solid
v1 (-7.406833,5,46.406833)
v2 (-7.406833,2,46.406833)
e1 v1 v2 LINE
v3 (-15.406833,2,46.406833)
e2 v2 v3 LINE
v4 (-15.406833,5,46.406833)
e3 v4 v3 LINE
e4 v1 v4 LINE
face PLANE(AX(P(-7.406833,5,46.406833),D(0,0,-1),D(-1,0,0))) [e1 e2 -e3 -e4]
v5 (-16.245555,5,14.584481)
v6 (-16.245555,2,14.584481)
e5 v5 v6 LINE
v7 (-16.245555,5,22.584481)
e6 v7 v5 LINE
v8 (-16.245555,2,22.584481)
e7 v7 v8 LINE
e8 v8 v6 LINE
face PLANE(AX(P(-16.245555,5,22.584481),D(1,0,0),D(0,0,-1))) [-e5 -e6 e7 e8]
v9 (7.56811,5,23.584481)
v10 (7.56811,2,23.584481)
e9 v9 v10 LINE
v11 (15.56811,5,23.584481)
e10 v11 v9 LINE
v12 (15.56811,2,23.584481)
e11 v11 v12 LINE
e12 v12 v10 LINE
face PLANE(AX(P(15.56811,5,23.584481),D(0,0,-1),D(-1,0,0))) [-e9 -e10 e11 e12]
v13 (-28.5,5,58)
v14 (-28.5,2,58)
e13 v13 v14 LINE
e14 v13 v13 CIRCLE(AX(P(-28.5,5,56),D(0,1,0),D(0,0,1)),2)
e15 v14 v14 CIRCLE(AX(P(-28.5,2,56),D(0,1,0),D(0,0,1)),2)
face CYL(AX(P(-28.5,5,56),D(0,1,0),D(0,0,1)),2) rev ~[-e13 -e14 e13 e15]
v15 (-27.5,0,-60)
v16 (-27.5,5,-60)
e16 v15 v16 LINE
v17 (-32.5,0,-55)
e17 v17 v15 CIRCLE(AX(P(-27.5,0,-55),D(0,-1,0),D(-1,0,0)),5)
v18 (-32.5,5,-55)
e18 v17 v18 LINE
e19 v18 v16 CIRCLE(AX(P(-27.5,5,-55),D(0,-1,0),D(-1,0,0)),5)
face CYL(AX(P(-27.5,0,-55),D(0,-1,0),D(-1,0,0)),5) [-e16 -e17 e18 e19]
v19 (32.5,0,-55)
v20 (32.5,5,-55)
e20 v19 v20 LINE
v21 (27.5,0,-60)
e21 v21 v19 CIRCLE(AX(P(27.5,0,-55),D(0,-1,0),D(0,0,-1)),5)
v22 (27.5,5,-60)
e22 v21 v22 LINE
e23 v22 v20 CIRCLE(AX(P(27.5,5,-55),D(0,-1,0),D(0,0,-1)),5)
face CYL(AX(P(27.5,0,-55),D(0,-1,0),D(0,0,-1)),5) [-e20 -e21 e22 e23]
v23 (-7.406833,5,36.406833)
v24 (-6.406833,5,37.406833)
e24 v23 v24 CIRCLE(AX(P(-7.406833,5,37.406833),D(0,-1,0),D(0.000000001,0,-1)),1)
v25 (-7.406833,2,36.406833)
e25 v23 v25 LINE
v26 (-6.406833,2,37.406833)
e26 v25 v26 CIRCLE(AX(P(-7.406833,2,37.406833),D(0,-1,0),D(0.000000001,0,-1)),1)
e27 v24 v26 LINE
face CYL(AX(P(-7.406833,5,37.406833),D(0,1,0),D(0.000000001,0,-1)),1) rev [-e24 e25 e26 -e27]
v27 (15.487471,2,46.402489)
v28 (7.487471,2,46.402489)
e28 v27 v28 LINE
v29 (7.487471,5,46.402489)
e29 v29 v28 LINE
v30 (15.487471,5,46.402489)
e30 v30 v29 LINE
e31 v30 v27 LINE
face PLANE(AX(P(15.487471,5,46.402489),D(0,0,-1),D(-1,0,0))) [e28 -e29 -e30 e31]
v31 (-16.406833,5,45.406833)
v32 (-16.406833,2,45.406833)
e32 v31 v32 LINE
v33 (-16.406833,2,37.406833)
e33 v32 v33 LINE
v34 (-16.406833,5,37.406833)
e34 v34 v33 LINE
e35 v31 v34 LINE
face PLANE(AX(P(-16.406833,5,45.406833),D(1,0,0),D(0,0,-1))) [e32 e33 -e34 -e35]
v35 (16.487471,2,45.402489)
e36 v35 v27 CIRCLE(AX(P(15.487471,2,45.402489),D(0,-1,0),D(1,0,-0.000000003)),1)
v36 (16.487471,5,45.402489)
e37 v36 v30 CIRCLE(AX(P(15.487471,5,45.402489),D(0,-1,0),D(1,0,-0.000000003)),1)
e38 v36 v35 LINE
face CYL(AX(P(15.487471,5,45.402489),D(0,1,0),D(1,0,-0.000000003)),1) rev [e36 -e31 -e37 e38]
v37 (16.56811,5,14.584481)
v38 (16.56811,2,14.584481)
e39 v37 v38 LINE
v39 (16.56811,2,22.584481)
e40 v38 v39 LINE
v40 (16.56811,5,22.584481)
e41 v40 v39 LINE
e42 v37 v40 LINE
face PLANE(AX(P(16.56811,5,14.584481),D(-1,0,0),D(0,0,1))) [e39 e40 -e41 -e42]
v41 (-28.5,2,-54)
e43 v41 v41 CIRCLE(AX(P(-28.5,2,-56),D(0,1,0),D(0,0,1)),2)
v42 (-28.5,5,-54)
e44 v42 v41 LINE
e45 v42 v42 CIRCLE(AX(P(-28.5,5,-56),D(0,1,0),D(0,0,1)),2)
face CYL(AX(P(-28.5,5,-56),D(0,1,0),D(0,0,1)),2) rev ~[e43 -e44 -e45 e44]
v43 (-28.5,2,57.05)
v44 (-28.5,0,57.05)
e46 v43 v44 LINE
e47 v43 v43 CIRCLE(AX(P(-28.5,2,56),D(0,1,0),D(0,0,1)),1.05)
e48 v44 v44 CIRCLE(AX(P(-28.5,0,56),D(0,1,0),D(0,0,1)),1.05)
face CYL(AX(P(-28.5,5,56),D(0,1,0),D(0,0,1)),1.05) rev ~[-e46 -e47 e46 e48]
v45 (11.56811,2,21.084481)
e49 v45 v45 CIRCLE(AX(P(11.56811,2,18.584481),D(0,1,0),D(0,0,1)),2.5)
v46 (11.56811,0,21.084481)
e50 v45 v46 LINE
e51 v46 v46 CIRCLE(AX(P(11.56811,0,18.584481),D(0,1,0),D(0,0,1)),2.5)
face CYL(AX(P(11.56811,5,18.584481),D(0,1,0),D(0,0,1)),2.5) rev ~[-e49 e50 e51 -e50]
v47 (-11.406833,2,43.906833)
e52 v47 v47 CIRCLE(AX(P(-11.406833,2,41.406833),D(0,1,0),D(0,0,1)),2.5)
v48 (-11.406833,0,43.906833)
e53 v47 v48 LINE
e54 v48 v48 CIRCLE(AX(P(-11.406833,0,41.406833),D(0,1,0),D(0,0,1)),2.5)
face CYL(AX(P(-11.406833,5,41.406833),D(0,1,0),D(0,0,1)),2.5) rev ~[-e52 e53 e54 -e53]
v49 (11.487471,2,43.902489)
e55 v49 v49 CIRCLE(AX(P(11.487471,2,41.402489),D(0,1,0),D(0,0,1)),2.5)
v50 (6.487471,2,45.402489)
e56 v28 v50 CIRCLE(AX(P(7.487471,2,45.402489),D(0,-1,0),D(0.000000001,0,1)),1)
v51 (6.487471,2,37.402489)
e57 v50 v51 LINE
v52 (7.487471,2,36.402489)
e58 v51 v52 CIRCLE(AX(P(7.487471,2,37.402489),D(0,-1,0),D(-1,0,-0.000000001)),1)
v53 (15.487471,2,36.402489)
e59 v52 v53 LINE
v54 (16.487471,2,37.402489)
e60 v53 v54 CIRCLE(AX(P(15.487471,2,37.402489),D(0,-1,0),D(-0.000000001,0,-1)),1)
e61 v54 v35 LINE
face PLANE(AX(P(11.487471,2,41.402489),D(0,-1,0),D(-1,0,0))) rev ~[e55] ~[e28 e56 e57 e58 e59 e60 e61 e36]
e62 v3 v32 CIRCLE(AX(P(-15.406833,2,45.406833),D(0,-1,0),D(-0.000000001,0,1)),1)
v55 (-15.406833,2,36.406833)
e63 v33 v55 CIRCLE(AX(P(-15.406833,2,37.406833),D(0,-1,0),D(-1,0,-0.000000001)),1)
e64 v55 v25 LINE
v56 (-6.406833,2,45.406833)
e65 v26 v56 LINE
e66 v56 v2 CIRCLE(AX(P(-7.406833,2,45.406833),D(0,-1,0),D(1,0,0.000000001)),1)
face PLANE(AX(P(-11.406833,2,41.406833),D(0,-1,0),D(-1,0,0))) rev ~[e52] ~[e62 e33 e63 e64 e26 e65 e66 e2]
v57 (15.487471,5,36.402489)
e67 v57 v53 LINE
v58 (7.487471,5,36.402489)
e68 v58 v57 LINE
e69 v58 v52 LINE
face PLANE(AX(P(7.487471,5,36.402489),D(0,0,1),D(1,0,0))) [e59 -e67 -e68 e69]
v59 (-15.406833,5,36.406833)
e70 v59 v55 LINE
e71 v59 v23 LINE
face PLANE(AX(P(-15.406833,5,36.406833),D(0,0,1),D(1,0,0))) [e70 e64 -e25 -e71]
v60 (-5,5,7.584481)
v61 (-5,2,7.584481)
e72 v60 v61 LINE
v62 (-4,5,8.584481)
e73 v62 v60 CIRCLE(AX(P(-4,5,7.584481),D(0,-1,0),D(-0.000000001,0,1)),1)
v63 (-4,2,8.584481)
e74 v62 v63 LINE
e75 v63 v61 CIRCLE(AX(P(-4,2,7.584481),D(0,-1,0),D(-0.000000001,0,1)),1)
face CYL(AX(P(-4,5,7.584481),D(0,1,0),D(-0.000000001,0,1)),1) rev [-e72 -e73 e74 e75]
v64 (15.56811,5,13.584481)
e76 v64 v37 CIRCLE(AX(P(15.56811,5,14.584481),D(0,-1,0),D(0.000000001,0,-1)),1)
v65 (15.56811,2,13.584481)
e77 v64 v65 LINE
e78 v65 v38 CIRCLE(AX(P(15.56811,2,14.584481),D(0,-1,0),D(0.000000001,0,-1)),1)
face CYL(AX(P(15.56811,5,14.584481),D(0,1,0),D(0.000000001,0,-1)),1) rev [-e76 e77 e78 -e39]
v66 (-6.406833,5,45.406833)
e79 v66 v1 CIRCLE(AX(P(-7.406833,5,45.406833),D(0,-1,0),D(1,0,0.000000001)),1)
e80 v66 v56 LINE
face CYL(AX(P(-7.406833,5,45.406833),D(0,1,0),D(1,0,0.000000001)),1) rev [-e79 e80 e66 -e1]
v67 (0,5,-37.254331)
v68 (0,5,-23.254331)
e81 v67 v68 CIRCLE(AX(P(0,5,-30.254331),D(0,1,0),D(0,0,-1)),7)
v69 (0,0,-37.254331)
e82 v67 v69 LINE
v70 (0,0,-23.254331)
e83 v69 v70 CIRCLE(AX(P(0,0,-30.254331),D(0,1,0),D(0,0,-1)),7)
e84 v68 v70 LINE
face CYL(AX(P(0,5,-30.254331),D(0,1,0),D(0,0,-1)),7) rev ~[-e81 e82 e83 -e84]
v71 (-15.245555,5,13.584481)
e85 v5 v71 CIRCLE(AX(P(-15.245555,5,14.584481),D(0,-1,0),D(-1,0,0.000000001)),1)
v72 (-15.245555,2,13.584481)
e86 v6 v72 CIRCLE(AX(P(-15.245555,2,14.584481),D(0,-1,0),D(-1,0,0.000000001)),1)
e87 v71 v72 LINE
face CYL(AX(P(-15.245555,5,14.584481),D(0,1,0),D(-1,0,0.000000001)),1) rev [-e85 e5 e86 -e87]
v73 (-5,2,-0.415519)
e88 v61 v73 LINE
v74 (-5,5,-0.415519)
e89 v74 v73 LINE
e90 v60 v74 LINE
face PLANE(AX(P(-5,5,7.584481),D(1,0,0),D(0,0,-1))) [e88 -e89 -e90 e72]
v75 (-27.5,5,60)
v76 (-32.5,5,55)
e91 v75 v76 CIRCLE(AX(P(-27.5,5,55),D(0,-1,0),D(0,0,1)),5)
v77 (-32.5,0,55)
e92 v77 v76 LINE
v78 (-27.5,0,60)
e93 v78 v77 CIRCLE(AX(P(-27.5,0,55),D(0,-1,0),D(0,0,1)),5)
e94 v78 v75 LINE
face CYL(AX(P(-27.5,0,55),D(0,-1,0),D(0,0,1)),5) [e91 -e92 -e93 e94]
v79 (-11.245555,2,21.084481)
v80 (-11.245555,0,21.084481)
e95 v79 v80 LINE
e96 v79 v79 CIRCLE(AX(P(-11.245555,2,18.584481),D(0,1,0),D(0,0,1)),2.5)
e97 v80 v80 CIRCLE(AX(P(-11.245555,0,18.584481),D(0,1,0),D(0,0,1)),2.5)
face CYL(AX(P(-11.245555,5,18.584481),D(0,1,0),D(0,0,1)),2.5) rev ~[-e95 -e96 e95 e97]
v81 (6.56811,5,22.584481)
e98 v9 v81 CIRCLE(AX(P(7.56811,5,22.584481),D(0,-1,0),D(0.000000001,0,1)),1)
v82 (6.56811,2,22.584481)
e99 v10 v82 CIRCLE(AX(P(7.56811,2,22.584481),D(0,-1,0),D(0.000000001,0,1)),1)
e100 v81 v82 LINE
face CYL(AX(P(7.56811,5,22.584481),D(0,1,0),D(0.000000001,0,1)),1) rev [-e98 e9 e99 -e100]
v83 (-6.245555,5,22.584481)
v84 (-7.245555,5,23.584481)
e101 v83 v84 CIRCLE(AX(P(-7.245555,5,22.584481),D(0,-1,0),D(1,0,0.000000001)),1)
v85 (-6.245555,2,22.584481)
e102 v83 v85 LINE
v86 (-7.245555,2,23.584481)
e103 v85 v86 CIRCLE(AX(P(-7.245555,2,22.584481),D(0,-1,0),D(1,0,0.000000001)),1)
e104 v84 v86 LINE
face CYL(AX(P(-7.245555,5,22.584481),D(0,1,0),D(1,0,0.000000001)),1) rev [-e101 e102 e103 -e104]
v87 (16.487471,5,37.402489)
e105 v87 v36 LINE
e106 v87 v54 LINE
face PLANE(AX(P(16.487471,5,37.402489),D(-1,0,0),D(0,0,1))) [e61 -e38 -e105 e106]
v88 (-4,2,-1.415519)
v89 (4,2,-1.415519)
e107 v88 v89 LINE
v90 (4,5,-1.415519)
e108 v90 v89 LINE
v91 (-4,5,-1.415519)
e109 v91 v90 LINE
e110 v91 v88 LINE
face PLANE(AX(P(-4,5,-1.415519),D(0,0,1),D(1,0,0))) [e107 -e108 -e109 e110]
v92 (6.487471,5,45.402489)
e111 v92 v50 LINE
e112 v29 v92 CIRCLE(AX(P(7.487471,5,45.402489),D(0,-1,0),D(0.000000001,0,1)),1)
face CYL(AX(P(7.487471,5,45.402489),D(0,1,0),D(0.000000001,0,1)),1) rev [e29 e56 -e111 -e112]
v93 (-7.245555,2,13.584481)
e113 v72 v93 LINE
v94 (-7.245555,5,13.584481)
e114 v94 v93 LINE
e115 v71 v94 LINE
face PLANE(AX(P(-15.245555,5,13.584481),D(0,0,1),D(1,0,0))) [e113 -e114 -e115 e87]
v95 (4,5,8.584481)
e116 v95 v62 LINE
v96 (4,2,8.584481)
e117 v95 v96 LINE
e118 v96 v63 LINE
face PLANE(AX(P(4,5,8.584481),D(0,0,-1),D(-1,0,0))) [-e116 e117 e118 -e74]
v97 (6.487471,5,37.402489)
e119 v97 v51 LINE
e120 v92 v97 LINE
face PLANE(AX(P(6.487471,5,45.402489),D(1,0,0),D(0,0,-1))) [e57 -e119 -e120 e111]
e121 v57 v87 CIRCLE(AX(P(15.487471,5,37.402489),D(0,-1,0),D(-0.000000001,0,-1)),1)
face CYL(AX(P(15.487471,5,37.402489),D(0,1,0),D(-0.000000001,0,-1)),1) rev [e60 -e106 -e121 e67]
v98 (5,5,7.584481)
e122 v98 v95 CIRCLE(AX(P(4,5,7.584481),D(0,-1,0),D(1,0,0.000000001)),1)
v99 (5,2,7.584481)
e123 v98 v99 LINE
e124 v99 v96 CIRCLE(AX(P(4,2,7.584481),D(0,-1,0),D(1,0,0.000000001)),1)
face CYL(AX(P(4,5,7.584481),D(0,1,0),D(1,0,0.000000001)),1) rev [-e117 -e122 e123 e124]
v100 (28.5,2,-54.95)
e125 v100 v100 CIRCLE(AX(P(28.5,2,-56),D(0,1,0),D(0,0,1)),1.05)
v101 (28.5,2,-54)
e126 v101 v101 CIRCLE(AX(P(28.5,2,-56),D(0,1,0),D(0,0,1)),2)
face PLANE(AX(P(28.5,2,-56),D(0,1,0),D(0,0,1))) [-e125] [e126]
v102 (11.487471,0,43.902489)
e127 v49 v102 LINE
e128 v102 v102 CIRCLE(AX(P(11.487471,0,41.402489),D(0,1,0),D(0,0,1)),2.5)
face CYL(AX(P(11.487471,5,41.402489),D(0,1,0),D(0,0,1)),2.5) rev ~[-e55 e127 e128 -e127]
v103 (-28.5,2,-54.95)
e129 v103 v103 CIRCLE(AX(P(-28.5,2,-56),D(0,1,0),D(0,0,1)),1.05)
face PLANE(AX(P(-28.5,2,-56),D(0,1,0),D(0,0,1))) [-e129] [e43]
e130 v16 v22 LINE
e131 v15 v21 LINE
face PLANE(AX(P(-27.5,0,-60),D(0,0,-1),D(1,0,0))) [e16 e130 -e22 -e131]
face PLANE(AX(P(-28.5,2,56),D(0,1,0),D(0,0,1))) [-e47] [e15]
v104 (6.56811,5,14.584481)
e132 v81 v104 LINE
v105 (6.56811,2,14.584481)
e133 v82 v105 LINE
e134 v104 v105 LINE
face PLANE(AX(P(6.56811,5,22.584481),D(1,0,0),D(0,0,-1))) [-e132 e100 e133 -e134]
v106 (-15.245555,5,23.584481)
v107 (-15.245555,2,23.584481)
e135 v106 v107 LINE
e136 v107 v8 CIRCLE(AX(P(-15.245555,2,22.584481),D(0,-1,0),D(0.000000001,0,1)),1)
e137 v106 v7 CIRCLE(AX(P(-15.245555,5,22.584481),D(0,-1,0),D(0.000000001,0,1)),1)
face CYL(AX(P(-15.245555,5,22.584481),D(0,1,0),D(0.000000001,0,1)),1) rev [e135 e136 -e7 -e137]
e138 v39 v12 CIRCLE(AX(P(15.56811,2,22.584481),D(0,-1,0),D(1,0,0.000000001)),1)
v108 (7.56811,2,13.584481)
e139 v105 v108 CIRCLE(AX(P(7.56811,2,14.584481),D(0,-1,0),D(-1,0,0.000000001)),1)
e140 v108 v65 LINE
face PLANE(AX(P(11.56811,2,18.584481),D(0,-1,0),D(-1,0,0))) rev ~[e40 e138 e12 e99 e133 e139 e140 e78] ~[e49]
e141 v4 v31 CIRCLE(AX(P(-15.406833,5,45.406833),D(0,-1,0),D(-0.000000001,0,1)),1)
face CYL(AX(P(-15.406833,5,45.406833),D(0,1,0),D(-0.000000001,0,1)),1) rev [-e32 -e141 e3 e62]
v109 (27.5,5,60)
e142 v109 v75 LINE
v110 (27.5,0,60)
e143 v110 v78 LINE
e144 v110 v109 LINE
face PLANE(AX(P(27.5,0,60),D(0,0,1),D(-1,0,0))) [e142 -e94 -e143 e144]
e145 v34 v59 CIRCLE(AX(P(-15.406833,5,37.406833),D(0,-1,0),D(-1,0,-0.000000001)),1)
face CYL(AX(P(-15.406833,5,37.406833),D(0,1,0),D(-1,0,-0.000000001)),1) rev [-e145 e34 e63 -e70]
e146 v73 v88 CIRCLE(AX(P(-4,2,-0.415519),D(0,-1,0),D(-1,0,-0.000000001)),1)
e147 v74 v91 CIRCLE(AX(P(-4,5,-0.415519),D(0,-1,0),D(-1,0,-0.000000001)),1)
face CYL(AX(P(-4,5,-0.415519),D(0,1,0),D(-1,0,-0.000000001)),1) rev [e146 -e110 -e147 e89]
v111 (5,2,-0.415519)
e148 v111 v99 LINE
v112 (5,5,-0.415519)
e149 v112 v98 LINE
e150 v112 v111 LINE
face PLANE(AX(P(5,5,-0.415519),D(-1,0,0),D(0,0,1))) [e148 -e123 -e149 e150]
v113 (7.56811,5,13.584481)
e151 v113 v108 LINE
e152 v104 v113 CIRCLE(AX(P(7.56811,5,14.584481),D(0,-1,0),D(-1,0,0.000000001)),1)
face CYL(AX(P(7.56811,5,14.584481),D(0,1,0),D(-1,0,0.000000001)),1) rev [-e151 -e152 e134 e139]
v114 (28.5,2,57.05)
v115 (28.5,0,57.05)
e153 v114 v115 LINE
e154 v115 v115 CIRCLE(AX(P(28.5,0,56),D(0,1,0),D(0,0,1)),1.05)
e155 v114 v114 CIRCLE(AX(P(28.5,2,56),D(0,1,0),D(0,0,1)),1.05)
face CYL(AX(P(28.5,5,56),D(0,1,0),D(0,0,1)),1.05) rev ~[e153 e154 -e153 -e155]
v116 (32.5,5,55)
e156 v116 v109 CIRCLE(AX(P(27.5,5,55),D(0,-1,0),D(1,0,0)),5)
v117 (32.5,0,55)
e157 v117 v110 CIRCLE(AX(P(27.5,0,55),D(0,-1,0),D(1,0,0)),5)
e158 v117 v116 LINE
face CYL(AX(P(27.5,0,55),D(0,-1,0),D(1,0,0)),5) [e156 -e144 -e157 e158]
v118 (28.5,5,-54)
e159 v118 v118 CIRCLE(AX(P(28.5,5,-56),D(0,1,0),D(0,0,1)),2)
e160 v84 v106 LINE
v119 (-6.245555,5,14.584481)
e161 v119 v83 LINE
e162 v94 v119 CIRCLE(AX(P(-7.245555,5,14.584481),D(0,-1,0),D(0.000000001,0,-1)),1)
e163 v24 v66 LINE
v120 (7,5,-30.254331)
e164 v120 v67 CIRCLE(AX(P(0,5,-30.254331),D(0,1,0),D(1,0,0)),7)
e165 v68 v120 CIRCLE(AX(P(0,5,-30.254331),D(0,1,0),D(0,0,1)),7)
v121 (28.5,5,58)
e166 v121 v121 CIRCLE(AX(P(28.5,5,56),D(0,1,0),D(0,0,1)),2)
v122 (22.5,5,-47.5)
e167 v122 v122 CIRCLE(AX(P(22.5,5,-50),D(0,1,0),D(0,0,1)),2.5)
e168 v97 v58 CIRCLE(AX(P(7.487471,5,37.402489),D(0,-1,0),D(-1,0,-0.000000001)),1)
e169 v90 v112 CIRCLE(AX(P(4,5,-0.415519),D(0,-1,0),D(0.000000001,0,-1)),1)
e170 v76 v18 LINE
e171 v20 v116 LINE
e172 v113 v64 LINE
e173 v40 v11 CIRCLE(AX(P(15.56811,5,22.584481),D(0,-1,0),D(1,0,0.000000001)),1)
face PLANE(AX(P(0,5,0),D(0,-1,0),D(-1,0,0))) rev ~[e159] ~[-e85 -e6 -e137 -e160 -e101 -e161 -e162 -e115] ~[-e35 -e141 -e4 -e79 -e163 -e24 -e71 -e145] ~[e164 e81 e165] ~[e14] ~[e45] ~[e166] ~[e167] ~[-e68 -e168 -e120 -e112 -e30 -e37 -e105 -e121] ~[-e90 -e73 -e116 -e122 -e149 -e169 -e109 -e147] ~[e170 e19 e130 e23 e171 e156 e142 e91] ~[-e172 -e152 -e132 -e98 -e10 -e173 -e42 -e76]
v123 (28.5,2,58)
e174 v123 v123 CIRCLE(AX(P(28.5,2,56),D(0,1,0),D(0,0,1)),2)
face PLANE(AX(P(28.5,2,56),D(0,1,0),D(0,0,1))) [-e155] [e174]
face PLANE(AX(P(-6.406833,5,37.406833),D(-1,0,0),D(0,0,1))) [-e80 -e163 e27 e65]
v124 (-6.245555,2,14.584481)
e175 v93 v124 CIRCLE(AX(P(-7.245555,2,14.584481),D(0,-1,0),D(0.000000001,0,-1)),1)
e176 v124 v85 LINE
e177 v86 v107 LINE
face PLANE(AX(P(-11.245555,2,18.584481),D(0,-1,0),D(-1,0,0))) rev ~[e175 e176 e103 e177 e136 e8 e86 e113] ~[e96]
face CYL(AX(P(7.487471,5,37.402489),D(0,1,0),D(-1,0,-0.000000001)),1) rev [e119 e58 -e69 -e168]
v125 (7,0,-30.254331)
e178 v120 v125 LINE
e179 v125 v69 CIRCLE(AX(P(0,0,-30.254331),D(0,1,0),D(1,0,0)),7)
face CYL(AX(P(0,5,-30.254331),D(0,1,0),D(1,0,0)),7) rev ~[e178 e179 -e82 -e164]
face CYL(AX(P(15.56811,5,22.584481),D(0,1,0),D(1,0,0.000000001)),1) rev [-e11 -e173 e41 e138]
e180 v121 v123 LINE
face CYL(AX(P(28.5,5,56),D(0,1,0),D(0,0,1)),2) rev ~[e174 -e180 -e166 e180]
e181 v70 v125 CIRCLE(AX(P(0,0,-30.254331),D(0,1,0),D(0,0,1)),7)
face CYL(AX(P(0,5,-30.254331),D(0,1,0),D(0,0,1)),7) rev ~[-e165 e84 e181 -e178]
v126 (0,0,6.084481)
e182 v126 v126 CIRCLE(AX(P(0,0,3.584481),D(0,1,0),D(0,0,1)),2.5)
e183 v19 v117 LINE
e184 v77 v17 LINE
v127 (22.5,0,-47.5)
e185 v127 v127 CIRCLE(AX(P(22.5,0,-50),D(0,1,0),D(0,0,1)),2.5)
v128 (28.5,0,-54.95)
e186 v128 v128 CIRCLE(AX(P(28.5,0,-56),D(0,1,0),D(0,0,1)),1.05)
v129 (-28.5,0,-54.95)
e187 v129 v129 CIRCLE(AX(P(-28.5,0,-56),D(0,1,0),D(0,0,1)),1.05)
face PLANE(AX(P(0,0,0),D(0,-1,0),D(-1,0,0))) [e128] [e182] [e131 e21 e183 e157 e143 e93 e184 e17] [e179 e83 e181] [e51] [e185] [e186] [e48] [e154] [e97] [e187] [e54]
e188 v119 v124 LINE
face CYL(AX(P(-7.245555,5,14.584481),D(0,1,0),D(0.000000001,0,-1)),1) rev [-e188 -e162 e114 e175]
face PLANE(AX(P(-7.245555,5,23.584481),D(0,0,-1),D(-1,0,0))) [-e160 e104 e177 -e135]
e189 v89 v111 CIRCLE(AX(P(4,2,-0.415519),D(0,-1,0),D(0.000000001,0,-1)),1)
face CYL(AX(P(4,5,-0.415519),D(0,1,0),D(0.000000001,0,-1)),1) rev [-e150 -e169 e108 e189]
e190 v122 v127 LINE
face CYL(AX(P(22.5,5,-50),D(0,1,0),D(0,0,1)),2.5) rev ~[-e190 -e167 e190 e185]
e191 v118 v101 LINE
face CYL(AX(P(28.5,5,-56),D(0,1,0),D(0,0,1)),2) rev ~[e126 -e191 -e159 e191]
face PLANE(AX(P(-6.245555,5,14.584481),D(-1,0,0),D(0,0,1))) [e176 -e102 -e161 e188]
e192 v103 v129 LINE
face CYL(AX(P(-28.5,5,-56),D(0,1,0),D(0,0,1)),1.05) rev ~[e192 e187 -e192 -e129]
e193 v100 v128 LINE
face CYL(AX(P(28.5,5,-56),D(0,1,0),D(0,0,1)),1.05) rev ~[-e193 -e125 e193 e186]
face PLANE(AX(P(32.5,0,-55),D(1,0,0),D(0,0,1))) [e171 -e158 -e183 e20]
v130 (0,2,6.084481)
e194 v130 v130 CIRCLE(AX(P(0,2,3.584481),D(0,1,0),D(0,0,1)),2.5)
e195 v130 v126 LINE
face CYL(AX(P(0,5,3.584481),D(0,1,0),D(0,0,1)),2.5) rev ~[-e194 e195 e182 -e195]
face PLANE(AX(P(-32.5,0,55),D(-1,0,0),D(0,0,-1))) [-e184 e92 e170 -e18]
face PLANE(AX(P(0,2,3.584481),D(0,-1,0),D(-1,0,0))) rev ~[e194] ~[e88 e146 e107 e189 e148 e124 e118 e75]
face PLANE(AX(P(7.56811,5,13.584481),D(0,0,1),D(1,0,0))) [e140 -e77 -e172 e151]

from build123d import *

# Parameters (mm, degrees)
BOSS_EXTRUDE1_DEPTH = 5
SKETCH2_R           = 1.05
CUT_EXTRUDE1_DEPTH  = 5
SKETCH3_R           = 2
CUT_EXTRUDE2_DEPTH  = 3
CUT_EXTRUDE3_DEPTH  = 69.419660917
SKETCH5_R           = 2.5
CUT_EXTRUDE5_DEPTH  = 69.419660917
CUT_EXTRUDE7_DEPTH  = 3


with BuildPart() as part:
    # Sketch1 → Boss-Extrude1 (new body)
    with BuildSketch(Plane(origin=(0, 0, 0), x_dir=(1, 0, 0), z_dir=(0, 1, 0))):
        with BuildLine():
            Line((-27.5, 60), (27.5, 60))
            ThreePointArc((27.5, 60), (31.035533906, 58.535533906), (32.5, 55))
            Line((32.5, 55), (32.5, -55))
            ThreePointArc((32.5, -55), (31.035533906, -58.535533906), (27.5, -60))
            Line((27.5, -60), (-27.5, -60))
            ThreePointArc((-27.5, -60), (-31.035533906, -58.535533906), (-32.5, -55))
            Line((-32.5, -55), (-32.5, 55))
            ThreePointArc((-32.5, 55), (-31.035533906, 58.535533906), (-27.5, 60))
        make_face()
    extrude(amount=BOSS_EXTRUDE1_DEPTH)

    # Sketch2 → Cut-Extrude1 (cut)
    with BuildSketch(Plane(origin=(0, 5, 0), x_dir=(1, 0, 0), z_dir=(0, 1, 0))):
        with Locations(Location((-28.5, 56, 0), (0, 0, 270))):
            Circle(SKETCH2_R)
        with Locations(Location((28.5, 56, 0), (0, 0, 270))):
            Circle(SKETCH2_R)
        with Locations(Location((28.5, -56, 0), (0, 0, 270))):
            Circle(SKETCH2_R)
        with Locations(Location((-28.5, -56, 0), (0, 0, 270))):
            Circle(SKETCH2_R)
    extrude(amount=-CUT_EXTRUDE1_DEPTH, mode=Mode.SUBTRACT)

    # Sketch3 → Cut-Extrude2 (cut)
    with BuildSketch(Plane(origin=(0, 5, 0), x_dir=(1, 0, 0), z_dir=(0, 1, 0))):
        with Locations(Location((-28.5, 56, 0), (0, 0, 270))):
            Circle(SKETCH3_R)
        with Locations(Location((28.5, 56, 0), (0, 0, 270))):
            Circle(SKETCH3_R)
        with Locations(Location((28.5, -56, 0), (0, 0, 270))):
            Circle(SKETCH3_R)
        with Locations(Location((-28.5, -56, 0), (0, 0, 270))):
            Circle(SKETCH3_R)
    extrude(amount=-CUT_EXTRUDE2_DEPTH, mode=Mode.SUBTRACT)

    # Sketch4 → Cut-Extrude3 (cut, through all)
    with BuildSketch(Plane(origin=(0, 5, 0), x_dir=(1, 0, 0), z_dir=(0, 1, 0))):
        with BuildLine():
            ThreePointArc((7, 30.254330519), (4.949747468, 35.204077987), (0, 37.254330519))
            Line((0, 37.254330519), (0, 23.254330519))
            ThreePointArc((0, 23.254330519), (4.949747468, 25.304583051), (7, 30.254330519))
        make_face()
        with BuildLine():
            Line((0, 23.254330519), (0, 37.254330519))
            ThreePointArc((0, 37.254330519), (-7, 30.254330519), (0, 23.254330519))
        make_face()
    extrude(amount=-CUT_EXTRUDE3_DEPTH, mode=Mode.SUBTRACT)

    # Sketch5 → Cut-Extrude5 (cut, through all)
    with BuildSketch(Plane(origin=(0, 5, 0), x_dir=(1, 0, 0), z_dir=(0, 1, 0))):
        with Locations(Location((22.5, 50, 0), (0, 0, 270))):
            Circle(SKETCH5_R)
        with Locations(Location((0, -3.584481164, 0), (0, 0, 270))):
            Circle(SKETCH5_R)
        with Locations(Location((11.568109832, -18.584481164, 0), (0, 0, 270))):
            Circle(SKETCH5_R)
        with Locations(Location((11.487471201, -41.402489438, 0), (0, 0, 270))):
            Circle(SKETCH5_R)
        with Locations(Location((-11.406832571, -41.406832571, 0), (0, 0, 270))):
            Circle(SKETCH5_R)
        with Locations(Location((-11.24555531, -18.584481164, 0), (0, 0, 270))):
            Circle(SKETCH5_R)
    extrude(amount=-CUT_EXTRUDE5_DEPTH, mode=Mode.SUBTRACT)

    # Sketch6 → Cut-Extrude7 (cut)
    with BuildSketch(Plane(origin=(0, 5, 0), x_dir=(1, 0, 0), z_dir=(0, 1, 0))):
        with BuildLine():
            Line((7.568109832, -13.584481164), (15.568109832, -13.584481164))
            ThreePointArc((15.568109832, -13.584481164), (16.275216613, -13.877374383), (16.568109832, -14.584481164))
            Line((16.568109832, -14.584481164), (16.568109832, -22.584481164))
            ThreePointArc((16.568109832, -22.584481164), (16.275216613, -23.291587945), (15.568109832, -23.584481164))
            Line((15.568109832, -23.584481164), (7.568109832, -23.584481164))
            ThreePointArc((7.568109832, -23.584481164), (6.86100305, -23.291587945), (6.568109832, -22.584481164))
            Line((6.568109832, -22.584481164), (6.568109832, -14.584481164))
            ThreePointArc((6.568109832, -14.584481164), (6.86100305, -13.877374383), (7.568109832, -13.584481164))
        make_face()
        with BuildLine():
            Line((-15.24555531, -13.584481164), (-7.24555531, -13.584481164))
            ThreePointArc((-7.24555531, -13.584481164), (-6.538448529, -13.877374383), (-6.24555531, -14.584481164))
            Line((-6.24555531, -14.584481164), (-6.24555531, -22.584481164))
            ThreePointArc((-6.24555531, -22.584481164), (-6.538448529, -23.291587945), (-7.24555531, -23.584481164))
            Line((-7.24555531, -23.584481164), (-15.24555531, -23.584481164))
            ThreePointArc((-15.24555531, -23.584481164), (-15.952662092, -23.291587945), (-16.24555531, -22.584481164))
            Line((-16.24555531, -22.584481164), (-16.24555531, -14.584481164))
            ThreePointArc((-16.24555531, -14.584481164), (-15.952662092, -13.877374383), (-15.24555531, -13.584481164))
        make_face()
        with BuildLine():
            Line((-15.406832571, -36.406832571), (-7.406832571, -36.406832571))
            ThreePointArc((-7.406832571, -36.406832571), (-6.69972579, -36.69972579), (-6.406832571, -37.406832571))
            Line((-6.406832571, -37.406832571), (-6.406832571, -45.406832571))
            ThreePointArc((-6.406832571, -45.406832571), (-6.69972579, -46.113939352), (-7.406832571, -46.406832571))
            Line((-7.406832571, -46.406832571), (-15.406832571, -46.406832571))
            ThreePointArc((-15.406832571, -46.406832571), (-16.113939352, -46.113939352), (-16.406832571, -45.406832571))
            Line((-16.406832571, -45.406832571), (-16.406832571, -37.406832571))
            ThreePointArc((-16.406832571, -37.406832571), (-16.113939352, -36.69972579), (-15.406832571, -36.406832571))
        make_face()
        with BuildLine():
            Line((7.487471201, -36.402489438), (15.487471201, -36.402489438))
            ThreePointArc((15.487471201, -36.402489438), (16.194577983, -36.695382657), (16.487471201, -37.402489438))
            Line((16.487471201, -37.402489438), (16.487471201, -45.402489438))
            ThreePointArc((16.487471201, -45.402489438), (16.194577983, -46.10959622), (15.487471201, -46.402489438))
            Line((15.487471201, -46.402489438), (7.487471201, -46.402489438))
            ThreePointArc((7.487471201, -46.402489438), (6.78036442, -46.10959622), (6.487471201, -45.402489438))
            Line((6.487471201, -45.402489438), (6.487471201, -37.402489438))
            ThreePointArc((6.487471201, -37.402489438), (6.78036442, -36.695382657), (7.487471201, -36.402489438))
        make_face()
        with BuildLine():
            Line((-4, 1.415518836), (4, 1.415518836))
            ThreePointArc((4, 1.415518836), (4.707106781, 1.122625617), (5, 0.415518836))
            Line((5, 0.415518836), (5, -7.584481164))
            ThreePointArc((5, -7.584481164), (4.707106781, -8.291587945), (4, -8.584481164))
            Line((4, -8.584481164), (-4, -8.584481164))
            ThreePointArc((-4, -8.584481164), (-4.707106781, -8.291587945), (-5, -7.584481164))
            Line((-5, -7.584481164), (-5, 0.415518836))
            ThreePointArc((-5, 0.415518836), (-4.707106781, 1.122625617), (-4, 1.415518836))
        make_face()
    extrude(amount=-CUT_EXTRUDE7_DEPTH, mode=Mode.SUBTRACT)


solid = part.part
